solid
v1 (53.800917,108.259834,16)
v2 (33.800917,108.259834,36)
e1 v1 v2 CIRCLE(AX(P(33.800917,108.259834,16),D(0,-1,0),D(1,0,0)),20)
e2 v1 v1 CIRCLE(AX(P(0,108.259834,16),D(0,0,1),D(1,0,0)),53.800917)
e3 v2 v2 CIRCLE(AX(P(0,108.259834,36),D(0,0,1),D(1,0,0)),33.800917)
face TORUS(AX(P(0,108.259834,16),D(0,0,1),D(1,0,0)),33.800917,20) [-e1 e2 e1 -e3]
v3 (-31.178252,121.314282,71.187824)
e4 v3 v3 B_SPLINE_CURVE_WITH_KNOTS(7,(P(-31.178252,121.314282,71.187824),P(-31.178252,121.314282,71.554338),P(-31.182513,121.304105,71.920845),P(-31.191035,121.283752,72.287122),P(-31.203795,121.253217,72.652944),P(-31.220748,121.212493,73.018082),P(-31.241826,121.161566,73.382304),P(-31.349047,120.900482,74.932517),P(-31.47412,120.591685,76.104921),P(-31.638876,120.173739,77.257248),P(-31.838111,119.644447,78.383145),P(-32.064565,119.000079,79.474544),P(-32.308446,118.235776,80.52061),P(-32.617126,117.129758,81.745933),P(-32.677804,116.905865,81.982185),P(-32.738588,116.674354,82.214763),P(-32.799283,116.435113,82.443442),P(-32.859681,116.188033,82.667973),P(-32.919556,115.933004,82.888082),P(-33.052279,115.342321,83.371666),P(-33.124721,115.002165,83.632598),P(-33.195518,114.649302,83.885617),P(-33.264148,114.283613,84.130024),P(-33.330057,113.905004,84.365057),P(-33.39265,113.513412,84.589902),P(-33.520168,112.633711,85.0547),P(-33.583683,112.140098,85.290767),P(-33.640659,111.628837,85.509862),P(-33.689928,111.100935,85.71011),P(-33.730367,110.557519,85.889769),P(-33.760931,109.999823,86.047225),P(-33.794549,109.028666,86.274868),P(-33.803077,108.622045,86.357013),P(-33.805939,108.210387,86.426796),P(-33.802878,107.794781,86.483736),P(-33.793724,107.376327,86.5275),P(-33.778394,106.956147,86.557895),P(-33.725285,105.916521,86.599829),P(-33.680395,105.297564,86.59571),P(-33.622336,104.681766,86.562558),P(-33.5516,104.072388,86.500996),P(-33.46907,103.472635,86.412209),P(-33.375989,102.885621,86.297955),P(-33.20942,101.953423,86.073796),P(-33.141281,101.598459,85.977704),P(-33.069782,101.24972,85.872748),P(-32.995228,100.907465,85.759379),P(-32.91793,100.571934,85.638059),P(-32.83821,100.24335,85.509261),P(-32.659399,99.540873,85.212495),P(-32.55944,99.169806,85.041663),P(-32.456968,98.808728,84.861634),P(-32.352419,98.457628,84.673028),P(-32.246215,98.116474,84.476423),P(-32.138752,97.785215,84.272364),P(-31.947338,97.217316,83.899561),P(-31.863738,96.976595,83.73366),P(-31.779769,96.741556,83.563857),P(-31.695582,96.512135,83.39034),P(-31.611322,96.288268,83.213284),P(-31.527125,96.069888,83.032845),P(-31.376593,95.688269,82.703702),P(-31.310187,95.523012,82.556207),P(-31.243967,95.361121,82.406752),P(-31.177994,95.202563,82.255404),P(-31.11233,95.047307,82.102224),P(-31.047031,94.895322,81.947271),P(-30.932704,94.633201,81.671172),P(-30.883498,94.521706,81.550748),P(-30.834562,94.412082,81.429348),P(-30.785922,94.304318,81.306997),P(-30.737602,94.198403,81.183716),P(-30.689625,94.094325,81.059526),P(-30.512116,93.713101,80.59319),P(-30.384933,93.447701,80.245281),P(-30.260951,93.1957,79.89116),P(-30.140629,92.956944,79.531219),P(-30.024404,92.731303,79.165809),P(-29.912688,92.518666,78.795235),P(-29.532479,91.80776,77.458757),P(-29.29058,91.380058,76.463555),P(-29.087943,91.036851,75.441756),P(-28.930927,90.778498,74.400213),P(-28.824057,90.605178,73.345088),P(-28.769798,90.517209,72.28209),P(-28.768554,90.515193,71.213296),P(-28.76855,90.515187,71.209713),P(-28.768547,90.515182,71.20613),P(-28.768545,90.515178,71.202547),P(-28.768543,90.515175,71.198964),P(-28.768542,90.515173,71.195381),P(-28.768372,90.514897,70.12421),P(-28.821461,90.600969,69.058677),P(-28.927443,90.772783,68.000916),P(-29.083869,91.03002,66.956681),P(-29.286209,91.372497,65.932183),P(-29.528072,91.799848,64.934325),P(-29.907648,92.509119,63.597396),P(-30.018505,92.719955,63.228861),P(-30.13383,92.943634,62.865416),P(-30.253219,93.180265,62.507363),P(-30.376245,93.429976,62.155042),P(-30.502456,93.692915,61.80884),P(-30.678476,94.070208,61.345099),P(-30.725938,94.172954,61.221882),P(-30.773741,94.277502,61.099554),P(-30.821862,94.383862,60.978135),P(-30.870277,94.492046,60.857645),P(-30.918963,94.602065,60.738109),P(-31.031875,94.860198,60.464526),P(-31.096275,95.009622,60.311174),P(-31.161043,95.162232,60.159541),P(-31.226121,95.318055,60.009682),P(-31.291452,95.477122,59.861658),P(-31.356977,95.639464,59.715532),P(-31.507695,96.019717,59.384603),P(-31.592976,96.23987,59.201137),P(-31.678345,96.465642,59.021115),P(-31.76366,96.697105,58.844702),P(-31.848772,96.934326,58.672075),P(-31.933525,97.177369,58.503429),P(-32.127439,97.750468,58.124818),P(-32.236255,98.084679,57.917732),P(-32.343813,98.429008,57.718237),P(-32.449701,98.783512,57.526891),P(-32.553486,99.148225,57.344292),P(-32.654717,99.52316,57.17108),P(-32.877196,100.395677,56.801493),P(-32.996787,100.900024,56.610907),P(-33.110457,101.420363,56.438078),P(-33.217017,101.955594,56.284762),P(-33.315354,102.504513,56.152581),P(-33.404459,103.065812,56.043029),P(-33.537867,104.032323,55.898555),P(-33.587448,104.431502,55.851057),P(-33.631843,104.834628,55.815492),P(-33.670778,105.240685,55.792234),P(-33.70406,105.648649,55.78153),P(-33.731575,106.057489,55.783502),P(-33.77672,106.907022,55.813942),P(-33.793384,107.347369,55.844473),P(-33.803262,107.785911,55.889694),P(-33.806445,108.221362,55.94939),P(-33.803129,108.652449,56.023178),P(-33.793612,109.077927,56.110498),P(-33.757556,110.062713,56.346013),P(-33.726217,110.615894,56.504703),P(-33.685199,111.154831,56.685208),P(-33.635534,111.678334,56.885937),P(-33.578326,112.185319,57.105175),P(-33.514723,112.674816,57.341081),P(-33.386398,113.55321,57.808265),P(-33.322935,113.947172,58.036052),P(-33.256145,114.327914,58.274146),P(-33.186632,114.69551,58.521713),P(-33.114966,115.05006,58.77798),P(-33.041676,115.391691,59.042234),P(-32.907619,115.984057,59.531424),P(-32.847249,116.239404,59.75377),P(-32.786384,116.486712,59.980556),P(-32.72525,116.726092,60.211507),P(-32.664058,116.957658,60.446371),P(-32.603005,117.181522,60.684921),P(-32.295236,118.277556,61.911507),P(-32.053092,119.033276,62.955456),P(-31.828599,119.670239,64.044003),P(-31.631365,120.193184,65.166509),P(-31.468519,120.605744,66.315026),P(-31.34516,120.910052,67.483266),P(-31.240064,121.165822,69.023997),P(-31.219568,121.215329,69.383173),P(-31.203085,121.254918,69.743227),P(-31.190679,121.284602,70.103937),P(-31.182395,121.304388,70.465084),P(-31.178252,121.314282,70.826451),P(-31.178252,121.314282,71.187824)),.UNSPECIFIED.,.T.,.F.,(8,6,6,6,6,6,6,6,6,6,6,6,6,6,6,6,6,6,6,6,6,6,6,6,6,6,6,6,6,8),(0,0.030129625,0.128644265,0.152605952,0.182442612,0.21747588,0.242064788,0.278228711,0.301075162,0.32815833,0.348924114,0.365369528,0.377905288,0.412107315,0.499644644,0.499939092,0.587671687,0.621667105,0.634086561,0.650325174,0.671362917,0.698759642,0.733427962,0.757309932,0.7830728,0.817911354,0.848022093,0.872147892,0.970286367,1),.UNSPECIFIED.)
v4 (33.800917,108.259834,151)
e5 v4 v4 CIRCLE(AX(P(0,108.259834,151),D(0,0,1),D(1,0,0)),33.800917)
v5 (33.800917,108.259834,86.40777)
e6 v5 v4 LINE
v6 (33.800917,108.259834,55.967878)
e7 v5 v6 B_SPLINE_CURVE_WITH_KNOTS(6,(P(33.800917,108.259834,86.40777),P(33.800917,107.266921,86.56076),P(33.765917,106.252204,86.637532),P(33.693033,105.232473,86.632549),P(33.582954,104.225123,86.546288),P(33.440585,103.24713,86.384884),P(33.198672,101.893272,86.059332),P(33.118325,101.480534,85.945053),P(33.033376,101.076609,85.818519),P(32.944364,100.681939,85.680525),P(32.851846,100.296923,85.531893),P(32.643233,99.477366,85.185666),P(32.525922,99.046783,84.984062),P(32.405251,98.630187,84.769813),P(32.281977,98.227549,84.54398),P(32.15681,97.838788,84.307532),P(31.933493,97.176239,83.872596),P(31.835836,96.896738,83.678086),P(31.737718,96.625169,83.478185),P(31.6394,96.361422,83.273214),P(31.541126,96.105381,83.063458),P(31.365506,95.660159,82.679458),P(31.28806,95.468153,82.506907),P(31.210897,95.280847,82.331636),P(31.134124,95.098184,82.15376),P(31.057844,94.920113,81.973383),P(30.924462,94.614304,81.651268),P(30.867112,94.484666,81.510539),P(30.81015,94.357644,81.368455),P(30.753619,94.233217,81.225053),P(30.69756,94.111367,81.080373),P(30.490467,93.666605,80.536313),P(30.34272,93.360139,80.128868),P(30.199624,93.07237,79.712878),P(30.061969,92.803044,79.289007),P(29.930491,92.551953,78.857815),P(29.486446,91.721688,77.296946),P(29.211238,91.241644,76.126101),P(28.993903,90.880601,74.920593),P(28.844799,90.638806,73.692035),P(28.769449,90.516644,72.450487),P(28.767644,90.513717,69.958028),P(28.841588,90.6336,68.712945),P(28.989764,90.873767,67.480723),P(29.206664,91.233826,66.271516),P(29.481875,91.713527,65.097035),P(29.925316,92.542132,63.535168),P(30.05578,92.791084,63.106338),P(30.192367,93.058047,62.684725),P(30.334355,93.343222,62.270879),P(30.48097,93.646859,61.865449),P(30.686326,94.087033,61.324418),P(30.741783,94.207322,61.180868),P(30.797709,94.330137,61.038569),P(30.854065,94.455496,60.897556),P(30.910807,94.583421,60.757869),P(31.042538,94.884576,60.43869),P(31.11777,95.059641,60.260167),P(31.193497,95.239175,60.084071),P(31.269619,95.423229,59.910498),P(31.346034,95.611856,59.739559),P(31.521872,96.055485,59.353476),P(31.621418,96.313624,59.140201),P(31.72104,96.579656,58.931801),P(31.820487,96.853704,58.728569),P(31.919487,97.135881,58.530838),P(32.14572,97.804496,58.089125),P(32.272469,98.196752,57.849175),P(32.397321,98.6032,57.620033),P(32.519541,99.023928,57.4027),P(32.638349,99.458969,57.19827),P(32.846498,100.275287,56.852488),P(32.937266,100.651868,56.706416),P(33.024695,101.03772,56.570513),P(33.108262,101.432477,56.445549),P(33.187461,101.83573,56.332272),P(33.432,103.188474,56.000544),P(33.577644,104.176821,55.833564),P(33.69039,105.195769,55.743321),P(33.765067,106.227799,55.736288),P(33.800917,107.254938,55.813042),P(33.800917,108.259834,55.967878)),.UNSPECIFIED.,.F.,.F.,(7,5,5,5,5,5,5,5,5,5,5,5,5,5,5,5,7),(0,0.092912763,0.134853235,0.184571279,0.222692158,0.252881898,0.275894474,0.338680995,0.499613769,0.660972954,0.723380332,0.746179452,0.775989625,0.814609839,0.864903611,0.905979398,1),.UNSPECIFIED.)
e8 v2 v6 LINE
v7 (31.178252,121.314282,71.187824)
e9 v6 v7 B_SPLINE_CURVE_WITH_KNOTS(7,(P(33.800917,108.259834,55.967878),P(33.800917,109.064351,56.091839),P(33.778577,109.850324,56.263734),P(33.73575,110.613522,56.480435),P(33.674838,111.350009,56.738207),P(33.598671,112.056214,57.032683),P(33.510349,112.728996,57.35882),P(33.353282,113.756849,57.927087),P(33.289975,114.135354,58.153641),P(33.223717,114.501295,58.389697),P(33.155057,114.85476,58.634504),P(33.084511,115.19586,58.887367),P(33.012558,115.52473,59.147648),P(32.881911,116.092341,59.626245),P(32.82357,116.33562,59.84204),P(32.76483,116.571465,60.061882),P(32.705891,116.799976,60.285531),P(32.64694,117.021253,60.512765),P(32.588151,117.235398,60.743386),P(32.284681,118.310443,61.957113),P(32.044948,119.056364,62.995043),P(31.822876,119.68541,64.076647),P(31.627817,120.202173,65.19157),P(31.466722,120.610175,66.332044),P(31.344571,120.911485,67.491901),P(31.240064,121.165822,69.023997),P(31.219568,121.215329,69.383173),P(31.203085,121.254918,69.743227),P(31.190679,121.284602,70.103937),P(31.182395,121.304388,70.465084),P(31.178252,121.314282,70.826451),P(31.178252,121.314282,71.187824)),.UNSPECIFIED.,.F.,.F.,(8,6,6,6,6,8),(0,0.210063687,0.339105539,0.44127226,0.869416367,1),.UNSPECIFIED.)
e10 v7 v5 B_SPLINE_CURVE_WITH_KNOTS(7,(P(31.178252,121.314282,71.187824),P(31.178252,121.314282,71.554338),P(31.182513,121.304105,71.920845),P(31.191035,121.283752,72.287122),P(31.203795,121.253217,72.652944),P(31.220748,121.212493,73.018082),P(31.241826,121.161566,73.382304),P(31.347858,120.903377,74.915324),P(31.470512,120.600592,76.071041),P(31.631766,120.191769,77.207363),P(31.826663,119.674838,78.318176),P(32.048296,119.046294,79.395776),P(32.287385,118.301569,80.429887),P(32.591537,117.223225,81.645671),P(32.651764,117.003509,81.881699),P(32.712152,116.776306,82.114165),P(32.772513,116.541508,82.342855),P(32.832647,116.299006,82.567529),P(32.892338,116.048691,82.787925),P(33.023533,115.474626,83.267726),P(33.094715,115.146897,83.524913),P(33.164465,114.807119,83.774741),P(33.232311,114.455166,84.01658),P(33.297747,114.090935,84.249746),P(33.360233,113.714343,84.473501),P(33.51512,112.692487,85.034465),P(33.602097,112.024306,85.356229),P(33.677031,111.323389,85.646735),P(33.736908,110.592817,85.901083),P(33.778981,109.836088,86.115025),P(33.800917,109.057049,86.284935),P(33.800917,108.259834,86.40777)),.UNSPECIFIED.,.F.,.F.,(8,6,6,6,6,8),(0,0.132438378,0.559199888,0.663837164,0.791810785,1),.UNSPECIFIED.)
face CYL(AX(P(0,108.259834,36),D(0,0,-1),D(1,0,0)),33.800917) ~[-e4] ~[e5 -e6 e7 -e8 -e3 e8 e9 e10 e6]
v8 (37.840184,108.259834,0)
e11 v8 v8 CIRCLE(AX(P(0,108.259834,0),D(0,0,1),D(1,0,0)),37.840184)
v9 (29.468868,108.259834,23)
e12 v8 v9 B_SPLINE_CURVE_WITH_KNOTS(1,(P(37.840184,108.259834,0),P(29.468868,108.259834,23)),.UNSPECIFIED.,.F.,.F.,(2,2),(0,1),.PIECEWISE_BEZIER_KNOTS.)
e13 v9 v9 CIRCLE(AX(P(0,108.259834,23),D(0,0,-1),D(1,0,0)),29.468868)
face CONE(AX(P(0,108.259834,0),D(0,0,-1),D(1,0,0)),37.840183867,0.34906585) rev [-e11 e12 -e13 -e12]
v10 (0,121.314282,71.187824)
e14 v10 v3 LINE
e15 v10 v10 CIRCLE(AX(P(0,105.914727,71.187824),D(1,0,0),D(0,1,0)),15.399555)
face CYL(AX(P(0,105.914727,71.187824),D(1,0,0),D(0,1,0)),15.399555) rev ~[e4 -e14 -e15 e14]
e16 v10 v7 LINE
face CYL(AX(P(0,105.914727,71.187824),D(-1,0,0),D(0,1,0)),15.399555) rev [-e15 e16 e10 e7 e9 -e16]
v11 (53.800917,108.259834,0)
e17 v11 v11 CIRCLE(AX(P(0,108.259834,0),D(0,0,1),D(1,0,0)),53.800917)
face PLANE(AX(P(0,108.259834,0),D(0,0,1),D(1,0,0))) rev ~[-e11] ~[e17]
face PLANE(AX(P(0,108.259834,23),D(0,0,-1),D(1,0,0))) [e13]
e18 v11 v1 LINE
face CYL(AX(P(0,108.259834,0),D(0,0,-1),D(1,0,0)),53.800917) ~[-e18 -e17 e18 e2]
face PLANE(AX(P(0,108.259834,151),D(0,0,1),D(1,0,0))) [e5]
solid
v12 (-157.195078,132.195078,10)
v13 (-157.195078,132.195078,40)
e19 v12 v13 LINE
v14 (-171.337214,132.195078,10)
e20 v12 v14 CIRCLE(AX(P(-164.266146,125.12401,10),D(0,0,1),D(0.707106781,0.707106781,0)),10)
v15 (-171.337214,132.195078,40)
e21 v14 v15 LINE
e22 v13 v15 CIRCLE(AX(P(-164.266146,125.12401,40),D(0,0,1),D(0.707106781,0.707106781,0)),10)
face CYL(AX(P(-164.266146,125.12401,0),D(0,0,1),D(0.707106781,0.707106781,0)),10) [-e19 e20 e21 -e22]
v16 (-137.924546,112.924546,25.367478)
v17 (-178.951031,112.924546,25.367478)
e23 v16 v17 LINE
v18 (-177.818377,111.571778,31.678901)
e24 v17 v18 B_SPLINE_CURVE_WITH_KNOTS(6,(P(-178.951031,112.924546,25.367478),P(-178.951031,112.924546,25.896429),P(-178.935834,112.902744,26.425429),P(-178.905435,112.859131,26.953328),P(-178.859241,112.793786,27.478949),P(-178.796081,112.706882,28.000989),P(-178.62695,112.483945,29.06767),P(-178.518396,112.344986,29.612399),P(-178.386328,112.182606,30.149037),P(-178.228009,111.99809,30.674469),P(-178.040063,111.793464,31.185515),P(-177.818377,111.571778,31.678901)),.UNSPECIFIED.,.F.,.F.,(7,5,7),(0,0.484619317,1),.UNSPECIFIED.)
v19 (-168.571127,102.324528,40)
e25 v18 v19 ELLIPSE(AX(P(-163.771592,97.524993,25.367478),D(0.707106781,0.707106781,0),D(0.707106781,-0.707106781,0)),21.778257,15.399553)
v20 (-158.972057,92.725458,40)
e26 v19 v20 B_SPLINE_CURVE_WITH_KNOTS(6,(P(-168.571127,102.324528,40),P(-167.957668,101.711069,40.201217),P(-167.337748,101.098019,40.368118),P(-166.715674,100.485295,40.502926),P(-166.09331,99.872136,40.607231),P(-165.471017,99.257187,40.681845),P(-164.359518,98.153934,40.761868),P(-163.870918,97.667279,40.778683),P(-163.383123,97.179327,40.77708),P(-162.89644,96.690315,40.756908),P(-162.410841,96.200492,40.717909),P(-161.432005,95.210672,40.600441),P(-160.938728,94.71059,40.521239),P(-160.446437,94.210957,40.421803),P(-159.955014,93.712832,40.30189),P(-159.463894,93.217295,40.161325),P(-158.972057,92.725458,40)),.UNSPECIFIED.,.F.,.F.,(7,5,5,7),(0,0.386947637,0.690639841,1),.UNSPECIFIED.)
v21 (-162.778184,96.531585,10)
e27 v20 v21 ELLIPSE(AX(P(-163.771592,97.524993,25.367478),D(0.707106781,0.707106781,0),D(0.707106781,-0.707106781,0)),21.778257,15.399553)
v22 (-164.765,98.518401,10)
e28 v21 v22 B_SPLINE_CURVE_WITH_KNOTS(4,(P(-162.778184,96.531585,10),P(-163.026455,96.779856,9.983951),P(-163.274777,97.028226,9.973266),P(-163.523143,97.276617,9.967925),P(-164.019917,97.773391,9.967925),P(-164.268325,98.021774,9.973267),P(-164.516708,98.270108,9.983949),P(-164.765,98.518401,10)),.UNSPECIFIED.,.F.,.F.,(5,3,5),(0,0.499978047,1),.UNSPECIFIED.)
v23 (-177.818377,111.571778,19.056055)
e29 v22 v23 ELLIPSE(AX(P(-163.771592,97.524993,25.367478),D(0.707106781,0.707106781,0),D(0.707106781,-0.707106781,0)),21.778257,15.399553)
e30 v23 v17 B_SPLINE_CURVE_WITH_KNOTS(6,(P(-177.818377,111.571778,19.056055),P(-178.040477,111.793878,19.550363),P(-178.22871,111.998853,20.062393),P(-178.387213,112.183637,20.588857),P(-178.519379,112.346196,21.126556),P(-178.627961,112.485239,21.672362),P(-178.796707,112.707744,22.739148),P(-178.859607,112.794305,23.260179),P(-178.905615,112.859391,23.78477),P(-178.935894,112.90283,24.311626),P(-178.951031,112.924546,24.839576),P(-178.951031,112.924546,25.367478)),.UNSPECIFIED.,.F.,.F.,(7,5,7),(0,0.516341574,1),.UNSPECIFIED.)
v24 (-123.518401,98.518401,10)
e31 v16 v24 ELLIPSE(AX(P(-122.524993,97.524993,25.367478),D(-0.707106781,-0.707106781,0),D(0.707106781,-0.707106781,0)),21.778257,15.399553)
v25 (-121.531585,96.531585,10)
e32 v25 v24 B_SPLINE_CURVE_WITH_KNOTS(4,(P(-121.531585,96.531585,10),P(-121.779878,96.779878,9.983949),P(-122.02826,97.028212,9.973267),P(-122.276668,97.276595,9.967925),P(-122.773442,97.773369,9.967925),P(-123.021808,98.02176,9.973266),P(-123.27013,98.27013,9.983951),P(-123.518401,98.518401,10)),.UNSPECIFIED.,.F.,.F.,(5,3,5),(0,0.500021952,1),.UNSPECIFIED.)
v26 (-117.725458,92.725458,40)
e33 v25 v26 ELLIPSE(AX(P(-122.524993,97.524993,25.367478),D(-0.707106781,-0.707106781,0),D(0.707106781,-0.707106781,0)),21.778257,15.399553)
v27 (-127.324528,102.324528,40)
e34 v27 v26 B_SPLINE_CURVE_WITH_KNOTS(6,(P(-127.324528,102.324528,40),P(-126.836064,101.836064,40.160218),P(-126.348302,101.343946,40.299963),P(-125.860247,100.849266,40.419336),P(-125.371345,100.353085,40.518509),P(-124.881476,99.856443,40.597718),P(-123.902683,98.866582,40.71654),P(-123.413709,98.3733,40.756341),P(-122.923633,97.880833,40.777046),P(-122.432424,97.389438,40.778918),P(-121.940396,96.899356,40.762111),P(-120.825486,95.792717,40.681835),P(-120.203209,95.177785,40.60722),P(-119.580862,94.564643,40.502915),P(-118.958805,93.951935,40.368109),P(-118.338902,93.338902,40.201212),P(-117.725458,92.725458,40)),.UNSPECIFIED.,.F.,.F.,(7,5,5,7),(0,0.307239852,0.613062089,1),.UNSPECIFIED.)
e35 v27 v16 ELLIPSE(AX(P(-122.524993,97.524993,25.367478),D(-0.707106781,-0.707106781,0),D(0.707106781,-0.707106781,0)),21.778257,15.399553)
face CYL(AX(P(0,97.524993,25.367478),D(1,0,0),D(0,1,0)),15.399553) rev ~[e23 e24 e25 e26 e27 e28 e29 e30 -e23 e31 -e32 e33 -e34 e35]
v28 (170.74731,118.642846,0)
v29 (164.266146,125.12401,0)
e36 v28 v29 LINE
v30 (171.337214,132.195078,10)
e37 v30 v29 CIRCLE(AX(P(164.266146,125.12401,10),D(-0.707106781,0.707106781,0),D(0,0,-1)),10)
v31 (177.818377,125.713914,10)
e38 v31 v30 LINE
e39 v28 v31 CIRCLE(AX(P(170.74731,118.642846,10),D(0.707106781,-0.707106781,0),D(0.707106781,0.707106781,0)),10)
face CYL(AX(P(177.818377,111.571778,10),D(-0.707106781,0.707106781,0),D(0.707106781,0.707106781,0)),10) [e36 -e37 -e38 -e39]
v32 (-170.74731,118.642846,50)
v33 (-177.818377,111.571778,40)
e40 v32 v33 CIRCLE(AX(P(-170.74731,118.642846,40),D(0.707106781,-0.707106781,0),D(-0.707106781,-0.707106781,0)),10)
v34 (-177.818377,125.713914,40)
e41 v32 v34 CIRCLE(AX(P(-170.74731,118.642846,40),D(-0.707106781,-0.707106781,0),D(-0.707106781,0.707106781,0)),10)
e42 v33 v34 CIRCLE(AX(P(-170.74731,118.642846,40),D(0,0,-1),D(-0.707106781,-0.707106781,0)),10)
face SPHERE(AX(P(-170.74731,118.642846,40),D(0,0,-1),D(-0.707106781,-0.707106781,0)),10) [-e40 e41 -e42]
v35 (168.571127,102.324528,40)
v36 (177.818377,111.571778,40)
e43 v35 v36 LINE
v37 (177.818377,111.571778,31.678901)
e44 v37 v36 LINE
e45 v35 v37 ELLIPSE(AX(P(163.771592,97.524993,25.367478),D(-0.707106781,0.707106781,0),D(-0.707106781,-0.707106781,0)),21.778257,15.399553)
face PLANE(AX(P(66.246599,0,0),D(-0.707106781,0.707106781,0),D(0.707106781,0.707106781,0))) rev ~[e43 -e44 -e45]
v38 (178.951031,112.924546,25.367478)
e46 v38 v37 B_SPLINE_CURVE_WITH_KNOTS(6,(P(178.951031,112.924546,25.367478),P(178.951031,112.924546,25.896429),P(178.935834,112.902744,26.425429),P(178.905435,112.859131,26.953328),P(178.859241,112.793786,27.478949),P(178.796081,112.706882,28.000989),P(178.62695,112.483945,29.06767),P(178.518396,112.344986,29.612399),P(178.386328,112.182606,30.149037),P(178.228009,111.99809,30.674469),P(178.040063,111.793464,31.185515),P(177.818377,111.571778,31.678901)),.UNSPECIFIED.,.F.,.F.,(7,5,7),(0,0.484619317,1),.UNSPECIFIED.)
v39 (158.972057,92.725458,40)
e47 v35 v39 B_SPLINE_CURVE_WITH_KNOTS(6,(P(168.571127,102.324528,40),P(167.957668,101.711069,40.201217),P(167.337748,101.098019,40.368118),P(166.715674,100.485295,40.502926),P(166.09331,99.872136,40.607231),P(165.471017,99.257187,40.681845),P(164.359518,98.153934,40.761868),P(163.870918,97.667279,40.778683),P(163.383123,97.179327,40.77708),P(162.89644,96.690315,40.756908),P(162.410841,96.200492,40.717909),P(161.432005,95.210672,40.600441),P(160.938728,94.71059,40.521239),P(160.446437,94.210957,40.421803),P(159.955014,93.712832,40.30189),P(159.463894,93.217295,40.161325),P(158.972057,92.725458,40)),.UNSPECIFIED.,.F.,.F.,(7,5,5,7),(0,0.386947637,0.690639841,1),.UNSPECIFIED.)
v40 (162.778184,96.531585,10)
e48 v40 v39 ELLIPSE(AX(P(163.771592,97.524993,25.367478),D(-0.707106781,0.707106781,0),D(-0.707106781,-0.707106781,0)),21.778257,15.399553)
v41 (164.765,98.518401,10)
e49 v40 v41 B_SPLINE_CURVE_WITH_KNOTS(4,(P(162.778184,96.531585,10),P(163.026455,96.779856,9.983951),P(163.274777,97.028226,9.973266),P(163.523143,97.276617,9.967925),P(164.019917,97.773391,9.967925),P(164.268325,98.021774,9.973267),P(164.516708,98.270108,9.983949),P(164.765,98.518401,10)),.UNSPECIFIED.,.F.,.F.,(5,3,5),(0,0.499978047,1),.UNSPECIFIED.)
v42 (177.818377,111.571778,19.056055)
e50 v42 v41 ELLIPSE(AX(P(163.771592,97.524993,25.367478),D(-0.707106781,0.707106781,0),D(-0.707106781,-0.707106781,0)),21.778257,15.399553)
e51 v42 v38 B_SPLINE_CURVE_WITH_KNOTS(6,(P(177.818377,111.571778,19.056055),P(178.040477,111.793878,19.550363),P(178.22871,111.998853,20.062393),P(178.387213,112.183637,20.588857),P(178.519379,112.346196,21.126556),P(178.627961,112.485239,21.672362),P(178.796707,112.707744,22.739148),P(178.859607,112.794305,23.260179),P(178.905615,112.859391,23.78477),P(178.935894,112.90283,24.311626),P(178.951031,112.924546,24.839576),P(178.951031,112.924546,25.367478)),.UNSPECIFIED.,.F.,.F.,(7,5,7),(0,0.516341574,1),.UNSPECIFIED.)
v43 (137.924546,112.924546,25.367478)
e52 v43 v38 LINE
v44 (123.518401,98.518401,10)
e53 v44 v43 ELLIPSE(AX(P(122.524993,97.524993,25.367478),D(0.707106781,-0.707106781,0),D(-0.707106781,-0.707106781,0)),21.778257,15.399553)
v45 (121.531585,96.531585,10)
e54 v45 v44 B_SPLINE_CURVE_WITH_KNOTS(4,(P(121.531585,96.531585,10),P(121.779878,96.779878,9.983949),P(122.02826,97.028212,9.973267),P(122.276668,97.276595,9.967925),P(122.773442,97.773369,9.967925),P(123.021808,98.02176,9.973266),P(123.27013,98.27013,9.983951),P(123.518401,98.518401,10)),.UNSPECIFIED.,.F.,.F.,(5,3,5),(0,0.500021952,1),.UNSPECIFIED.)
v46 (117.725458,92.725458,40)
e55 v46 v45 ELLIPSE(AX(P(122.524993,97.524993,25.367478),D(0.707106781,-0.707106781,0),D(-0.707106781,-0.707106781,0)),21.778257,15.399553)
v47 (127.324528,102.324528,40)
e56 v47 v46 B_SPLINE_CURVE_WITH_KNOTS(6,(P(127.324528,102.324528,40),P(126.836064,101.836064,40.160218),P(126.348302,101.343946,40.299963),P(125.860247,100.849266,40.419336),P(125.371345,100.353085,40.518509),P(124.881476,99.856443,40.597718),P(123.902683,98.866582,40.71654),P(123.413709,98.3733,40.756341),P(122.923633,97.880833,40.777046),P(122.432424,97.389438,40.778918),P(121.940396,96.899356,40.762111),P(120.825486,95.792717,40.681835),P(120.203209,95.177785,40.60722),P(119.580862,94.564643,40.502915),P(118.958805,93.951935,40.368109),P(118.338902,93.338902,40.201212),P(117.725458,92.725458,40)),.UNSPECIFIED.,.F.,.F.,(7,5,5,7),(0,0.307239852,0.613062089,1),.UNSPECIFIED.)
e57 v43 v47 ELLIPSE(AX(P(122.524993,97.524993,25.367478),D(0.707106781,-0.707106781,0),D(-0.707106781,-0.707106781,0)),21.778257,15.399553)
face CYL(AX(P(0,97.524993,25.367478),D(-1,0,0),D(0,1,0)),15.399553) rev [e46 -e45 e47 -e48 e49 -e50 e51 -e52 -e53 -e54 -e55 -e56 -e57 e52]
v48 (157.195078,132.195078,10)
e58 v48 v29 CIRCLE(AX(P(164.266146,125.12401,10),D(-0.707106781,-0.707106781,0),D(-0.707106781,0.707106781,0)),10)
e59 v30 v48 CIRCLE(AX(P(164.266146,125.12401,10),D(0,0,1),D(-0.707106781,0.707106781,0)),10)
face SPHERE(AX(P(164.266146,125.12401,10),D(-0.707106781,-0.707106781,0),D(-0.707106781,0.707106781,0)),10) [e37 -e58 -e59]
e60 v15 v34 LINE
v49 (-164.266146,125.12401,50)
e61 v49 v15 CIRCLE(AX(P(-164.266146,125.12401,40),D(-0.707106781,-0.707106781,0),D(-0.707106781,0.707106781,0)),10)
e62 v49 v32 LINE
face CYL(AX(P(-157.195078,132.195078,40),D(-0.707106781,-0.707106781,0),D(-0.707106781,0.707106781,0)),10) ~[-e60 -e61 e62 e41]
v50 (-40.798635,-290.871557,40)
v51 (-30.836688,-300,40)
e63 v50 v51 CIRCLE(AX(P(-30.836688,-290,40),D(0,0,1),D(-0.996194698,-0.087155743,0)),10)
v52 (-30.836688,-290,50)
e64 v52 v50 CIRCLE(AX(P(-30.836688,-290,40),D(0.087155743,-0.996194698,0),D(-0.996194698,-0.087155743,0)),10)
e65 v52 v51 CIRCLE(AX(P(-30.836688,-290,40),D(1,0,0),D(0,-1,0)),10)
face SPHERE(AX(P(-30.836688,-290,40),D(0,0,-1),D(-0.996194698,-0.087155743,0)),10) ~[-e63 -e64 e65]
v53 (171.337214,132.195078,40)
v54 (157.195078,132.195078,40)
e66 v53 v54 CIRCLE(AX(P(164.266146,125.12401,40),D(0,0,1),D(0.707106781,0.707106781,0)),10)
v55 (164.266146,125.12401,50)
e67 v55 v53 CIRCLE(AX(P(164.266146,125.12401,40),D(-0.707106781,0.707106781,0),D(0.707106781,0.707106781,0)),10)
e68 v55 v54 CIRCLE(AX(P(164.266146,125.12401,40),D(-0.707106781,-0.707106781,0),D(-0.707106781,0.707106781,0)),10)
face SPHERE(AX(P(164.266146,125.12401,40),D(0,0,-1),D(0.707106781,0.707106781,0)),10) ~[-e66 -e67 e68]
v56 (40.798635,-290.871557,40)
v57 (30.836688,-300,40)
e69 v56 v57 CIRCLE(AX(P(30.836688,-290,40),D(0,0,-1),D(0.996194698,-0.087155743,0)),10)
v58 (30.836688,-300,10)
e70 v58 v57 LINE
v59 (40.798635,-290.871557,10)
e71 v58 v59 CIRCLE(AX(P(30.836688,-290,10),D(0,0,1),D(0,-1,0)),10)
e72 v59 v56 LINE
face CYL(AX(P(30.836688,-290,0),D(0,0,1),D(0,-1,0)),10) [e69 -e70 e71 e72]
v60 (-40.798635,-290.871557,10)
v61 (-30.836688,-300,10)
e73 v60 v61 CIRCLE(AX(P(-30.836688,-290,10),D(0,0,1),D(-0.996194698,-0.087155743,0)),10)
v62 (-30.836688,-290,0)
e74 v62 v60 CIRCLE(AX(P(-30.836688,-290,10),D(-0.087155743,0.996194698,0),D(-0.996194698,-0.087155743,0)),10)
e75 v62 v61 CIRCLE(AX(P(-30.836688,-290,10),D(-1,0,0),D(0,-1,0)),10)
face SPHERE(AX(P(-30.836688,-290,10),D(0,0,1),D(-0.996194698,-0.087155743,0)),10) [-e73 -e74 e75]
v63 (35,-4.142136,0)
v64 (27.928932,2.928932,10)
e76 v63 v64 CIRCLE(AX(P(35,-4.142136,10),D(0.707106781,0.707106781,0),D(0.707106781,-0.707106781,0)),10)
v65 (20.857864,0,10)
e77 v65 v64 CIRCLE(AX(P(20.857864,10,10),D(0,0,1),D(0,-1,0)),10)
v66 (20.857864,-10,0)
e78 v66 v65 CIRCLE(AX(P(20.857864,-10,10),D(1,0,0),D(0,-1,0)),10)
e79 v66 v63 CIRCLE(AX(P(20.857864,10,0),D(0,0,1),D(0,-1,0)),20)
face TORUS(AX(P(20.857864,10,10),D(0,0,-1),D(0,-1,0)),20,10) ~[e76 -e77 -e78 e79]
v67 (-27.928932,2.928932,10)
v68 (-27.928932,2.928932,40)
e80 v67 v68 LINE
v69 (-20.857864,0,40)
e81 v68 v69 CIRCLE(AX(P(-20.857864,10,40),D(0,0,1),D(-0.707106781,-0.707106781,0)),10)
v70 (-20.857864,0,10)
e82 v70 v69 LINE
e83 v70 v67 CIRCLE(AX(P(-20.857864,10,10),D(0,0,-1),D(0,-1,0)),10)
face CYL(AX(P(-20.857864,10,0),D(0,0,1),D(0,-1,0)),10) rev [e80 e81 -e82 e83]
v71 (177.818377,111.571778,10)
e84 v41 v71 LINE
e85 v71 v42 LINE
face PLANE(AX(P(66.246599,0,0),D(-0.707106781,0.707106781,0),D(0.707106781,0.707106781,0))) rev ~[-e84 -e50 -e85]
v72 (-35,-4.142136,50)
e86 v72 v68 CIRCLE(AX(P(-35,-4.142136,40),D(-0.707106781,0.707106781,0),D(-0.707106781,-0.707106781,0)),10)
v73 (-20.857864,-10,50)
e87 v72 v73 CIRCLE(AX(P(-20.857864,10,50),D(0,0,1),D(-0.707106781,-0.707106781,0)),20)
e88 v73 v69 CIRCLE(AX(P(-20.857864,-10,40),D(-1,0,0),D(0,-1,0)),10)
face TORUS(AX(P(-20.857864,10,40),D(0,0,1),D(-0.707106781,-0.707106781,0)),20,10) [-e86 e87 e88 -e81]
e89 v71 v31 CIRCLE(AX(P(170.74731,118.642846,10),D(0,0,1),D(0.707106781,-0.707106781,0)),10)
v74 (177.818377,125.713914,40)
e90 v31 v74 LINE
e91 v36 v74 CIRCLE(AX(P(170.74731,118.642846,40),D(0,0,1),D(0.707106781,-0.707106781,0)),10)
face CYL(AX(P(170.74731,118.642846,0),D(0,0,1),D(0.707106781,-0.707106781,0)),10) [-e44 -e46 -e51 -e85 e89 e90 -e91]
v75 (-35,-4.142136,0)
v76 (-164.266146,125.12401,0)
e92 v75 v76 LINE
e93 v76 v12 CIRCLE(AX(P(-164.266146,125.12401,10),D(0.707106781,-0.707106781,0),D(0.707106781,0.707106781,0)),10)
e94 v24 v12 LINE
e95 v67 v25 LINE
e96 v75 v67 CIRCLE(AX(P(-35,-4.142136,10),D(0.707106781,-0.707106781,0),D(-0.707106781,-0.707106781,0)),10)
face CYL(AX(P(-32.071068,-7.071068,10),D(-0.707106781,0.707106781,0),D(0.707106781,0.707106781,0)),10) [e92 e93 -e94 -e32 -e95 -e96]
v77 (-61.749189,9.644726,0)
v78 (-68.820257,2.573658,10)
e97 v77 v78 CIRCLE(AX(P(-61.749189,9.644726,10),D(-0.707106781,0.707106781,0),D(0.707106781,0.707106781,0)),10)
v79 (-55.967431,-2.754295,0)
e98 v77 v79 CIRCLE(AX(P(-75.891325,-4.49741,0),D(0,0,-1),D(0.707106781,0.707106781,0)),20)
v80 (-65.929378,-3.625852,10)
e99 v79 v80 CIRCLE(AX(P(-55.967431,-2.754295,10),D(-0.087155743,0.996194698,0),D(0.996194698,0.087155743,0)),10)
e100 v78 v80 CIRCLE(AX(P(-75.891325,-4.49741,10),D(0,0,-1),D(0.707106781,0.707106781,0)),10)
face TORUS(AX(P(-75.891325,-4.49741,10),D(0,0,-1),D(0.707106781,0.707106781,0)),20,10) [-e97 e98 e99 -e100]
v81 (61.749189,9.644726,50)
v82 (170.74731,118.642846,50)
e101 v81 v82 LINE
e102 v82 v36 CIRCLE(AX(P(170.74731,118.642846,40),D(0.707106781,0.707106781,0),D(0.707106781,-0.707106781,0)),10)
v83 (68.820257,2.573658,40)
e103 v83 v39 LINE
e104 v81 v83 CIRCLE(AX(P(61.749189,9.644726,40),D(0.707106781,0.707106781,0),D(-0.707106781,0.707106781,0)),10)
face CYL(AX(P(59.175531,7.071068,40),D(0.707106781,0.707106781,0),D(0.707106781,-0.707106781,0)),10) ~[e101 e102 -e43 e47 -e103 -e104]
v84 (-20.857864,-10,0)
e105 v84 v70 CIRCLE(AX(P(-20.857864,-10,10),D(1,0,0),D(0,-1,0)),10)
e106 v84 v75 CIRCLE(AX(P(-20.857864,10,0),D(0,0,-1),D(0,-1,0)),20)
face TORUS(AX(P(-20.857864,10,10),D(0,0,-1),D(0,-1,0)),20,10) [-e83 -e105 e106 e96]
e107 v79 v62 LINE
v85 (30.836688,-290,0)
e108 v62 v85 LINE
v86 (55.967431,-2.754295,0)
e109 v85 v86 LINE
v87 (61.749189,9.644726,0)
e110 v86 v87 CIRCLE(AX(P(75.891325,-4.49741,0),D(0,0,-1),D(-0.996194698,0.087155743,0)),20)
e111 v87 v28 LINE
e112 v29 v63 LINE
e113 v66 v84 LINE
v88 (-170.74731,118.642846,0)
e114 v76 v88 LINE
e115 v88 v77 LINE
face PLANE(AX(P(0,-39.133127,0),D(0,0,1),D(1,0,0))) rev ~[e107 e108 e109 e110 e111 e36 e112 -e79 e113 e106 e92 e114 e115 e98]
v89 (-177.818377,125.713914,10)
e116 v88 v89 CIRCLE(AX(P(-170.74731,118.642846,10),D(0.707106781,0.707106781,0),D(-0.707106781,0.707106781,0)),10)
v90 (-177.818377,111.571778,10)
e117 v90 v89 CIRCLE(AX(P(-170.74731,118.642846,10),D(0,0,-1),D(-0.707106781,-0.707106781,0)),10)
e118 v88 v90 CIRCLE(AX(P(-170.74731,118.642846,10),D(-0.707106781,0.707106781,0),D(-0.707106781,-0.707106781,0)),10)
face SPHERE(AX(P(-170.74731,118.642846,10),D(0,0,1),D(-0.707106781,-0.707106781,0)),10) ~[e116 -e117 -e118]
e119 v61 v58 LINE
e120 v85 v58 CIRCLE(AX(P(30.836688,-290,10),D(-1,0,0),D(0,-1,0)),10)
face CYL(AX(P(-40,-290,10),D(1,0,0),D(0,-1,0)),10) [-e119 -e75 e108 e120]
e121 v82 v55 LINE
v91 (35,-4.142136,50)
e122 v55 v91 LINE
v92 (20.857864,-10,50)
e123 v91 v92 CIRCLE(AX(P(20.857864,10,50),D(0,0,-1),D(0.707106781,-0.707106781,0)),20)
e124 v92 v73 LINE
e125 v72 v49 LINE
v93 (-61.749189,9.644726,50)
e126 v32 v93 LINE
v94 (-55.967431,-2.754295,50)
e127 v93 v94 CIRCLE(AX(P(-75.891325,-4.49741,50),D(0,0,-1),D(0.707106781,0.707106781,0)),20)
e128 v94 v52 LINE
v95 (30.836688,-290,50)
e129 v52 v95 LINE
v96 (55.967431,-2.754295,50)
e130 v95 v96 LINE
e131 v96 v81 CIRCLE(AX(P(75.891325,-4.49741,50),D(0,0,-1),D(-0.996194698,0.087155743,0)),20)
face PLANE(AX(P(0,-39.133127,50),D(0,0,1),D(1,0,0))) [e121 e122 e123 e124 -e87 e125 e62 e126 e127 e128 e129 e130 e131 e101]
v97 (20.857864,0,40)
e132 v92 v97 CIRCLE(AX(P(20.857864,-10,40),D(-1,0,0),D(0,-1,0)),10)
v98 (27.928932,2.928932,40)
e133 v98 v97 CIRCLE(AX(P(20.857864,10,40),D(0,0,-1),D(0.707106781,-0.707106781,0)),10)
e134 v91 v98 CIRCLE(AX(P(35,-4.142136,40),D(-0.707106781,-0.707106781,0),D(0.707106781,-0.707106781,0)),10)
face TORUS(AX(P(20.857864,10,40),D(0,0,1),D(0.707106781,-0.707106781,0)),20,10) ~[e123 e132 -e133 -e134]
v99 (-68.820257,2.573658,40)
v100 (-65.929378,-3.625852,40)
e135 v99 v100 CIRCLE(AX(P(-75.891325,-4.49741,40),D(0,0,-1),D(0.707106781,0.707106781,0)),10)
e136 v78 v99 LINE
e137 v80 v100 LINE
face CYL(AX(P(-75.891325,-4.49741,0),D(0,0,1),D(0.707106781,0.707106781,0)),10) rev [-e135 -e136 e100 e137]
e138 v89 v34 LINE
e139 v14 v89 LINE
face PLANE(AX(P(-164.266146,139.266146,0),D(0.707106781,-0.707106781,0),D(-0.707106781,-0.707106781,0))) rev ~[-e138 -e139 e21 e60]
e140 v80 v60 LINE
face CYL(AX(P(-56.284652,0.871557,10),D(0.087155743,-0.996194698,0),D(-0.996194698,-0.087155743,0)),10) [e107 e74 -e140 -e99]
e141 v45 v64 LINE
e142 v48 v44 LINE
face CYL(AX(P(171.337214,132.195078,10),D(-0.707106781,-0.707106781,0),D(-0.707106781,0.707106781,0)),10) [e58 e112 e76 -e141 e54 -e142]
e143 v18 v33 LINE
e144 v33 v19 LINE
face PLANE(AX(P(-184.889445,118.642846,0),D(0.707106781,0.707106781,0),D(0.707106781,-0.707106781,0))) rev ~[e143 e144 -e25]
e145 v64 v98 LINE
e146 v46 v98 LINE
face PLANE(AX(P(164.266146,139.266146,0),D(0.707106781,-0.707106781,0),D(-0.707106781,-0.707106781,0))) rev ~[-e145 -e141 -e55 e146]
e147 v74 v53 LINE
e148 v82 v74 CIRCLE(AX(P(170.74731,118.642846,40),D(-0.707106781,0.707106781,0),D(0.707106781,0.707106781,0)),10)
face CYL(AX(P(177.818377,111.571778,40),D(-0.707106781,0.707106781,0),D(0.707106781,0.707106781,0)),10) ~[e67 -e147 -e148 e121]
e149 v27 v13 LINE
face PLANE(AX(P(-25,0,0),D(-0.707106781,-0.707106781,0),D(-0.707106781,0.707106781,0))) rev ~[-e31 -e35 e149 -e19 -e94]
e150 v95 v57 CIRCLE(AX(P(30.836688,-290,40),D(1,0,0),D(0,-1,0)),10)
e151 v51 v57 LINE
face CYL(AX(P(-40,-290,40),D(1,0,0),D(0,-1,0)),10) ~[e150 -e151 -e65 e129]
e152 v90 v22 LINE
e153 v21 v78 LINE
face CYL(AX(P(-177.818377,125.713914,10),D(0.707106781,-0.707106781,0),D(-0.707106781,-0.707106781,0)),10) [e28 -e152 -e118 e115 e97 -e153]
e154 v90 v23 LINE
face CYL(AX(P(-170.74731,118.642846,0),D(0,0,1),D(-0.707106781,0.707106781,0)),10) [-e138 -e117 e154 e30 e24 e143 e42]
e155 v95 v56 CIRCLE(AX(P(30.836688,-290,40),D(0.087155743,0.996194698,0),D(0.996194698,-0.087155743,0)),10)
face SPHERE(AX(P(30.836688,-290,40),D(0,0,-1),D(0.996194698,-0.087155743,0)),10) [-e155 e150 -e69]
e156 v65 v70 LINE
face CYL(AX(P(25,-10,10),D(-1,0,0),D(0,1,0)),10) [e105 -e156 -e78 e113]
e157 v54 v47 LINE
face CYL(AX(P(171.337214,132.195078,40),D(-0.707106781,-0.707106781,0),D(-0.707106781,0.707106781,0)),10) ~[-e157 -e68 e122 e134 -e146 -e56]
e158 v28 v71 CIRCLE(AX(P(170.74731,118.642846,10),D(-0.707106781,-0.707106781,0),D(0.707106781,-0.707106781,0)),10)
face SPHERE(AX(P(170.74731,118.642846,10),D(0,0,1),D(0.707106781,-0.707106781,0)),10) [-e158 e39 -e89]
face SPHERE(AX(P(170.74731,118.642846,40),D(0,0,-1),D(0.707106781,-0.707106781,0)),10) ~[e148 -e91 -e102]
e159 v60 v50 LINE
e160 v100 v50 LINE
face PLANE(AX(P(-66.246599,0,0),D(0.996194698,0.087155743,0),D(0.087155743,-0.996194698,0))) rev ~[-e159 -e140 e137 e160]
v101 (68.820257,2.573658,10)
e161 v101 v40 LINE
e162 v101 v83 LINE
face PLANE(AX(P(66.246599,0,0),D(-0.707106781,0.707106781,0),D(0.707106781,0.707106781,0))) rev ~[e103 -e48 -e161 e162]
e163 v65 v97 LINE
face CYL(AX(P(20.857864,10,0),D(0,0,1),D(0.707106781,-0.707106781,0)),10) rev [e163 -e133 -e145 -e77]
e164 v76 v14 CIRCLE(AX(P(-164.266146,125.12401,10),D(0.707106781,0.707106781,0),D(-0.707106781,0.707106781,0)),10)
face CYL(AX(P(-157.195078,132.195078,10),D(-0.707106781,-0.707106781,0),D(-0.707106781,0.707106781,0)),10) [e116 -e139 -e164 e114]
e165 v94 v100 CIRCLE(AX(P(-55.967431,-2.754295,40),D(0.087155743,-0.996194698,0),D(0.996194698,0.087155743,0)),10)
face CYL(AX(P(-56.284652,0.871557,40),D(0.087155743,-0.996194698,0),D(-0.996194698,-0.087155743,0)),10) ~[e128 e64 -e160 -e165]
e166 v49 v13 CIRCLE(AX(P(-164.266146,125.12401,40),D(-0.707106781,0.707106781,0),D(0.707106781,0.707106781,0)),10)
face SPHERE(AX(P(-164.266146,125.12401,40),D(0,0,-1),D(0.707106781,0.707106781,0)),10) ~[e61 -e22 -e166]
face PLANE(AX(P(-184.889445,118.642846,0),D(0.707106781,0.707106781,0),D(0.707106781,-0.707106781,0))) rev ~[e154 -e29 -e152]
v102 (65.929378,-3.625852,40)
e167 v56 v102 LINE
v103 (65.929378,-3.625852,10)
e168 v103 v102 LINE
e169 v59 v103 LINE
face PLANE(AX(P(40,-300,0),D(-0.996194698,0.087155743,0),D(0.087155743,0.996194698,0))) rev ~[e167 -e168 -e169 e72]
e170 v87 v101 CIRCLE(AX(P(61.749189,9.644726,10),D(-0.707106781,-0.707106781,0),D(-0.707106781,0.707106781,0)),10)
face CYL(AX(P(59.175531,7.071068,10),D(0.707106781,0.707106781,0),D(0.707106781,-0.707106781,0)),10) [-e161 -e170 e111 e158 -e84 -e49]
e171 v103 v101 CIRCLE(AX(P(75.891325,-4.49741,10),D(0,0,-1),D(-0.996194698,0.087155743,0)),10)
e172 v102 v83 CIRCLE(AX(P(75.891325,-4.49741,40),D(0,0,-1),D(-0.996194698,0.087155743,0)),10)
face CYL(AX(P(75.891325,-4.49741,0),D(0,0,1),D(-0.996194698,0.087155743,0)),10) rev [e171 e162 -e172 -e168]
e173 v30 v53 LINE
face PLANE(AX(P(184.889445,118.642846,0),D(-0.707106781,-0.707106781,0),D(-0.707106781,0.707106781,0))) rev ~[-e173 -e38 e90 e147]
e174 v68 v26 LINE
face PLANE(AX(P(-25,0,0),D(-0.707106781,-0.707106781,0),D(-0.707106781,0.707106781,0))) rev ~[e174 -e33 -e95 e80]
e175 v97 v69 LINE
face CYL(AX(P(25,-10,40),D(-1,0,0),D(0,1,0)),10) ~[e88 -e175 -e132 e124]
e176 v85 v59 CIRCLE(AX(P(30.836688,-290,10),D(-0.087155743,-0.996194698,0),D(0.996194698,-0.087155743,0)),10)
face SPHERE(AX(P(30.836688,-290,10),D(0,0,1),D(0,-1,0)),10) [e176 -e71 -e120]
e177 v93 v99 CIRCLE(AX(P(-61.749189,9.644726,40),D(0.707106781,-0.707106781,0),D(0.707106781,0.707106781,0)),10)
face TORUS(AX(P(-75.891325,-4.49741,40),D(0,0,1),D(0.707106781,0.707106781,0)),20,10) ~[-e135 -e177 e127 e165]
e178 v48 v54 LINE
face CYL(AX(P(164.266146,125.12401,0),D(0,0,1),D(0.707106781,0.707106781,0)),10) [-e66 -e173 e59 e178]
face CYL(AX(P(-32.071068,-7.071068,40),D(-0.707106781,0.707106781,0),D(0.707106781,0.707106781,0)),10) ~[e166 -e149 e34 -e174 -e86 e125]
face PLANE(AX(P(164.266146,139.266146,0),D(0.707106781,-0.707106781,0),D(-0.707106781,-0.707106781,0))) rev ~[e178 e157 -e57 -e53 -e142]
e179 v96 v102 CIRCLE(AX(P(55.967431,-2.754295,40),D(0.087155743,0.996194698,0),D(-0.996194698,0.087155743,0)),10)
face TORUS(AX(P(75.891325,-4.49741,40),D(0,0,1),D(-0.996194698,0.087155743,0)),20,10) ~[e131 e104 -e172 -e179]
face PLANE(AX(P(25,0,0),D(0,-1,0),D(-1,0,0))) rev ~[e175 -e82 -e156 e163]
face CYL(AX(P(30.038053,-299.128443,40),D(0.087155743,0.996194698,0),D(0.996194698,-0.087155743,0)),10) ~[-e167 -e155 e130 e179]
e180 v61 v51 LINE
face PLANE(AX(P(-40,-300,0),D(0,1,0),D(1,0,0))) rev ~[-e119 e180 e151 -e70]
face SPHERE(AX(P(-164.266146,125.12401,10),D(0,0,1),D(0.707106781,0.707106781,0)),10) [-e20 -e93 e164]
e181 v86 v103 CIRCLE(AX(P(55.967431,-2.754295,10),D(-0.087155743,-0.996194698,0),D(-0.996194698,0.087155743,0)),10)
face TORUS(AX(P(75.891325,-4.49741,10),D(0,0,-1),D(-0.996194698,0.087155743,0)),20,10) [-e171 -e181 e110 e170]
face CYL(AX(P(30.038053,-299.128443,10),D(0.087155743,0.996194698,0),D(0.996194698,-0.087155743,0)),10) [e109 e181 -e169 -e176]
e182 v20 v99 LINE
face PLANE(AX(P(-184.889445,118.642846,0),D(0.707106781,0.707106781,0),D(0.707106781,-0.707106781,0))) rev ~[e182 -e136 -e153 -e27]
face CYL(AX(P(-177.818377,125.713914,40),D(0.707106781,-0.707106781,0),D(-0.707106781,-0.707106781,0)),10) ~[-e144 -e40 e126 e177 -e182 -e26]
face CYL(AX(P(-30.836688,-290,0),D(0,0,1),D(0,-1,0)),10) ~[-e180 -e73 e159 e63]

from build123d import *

# Parameters (mm, degrees)
F1_DEPTH       = 50
F2_R           = 10
F3_R           = 15.3995531455
F4_DEPTH       = 242.7
F4_DEPTH_BACK  = 187
F5_R           = 53.8009172273
F6_DEPTH       = 36
F7_R           = 20
F8_DEPTH       = 115
F9_R           = 15.399555
F10_DEPTH      = 82
F10_DEPTH_BACK = 108
F11_R          = 37.8401838669
F12_DEPTH      = 23
F12_TAPER      = 20


with BuildPart() as f1:
    # F0 (on Top) → F1 (new body)
    with BuildSketch(Plane.XY):
        Polygon((-40, -300), (0, -300), (40, -300), (66.2465990578, 0), (184.8894452647, 118.642846207), (164.2661457358, 139.2661457358), (25, 0), (0, 0), (-25, 0), (-164.2661457358, 139.2661457358), (-184.8894452647, 118.642846207), (-66.2465990578, 0), align=None)
    extrude(amount=F1_DEPTH)

    # F2
    f2_edges = [f1.edges().sort_by_distance(p)[0] for p in [
        (-184.889445, 118.642846, 25),
        (-66.246599, 0, 25),
        (-125.568022, 59.321423, 0),
        (-125.568022, 59.321423, 50),
        (-40, -300, 25),
        (-53.1233, -150, 0),
        (-53.1233, -150, 50),
        (0, -300, 50),
        (40, -300, 25),
        (0, -300, 0),
        (66.246599, 0, 25),
        (53.1233, -150, 0),
        (53.1233, -150, 50),
        (184.889445, 118.642846, 25),
        (125.568022, 59.321423, 0),
        (125.568022, 59.321423, 50),
        (94.633073, 69.633073, 0),
        (164.266146, 139.266146, 25),
        (174.577796, 128.954496, 0),
        (174.577796, 128.954496, 50),
        (25, 0, 25),
        (94.633073, 69.633073, 50),
        (0, 0, 50),
        (-25, 0, 25),
        (0, 0, 0),
        (-164.266146, 139.266146, 25),
        (-94.633073, 69.633073, 0),
        (-94.633073, 69.633073, 50),
        (-174.577796, 128.954496, 0),
        (-174.577796, 128.954496, 50),
    ]]
    fillet(f2_edges, radius=F2_R)

    # F3 (on Right) → F4 (cut, two sides)
    with BuildSketch(Plane.YZ) as f4_sk:
        with Locations((97.5249931216, 25.3674779087)):
            Circle(F3_R)
    extrude(amount=-F4_DEPTH, mode=Mode.SUBTRACT)
    extrude(f4_sk.sketch, amount=F4_DEPTH_BACK, mode=Mode.SUBTRACT)


with BuildPart() as f6:
    # F5 (on Top) → F6 (new body)
    with BuildSketch(Plane.XY):
        with Locations((0, 108.2598343492)):
            Circle(F5_R)
    extrude(amount=F6_DEPTH)

    # F7
    f7_edges = [f6.edges().sort_by_distance(p)[0] for p in [
        (-53.800917, 108.259834, 36),
    ]]
    fillet(f7_edges, radius=F7_R)

    # F8 (add): a face of the model
    f8_faces = [f6.faces().sort_by_distance(p)[0] for p in [
        (0, 108.2598343492, 36),
    ]]
    extrude(f8_faces, amount=F8_DEPTH)

    # F9 (on Right) → F10 (cut, two sides)
    with BuildSketch(Plane.YZ) as f10_sk:
        with Locations((105.9147268534, 71.1878240108)):
            Circle(F9_R)
    extrude(amount=-F10_DEPTH, mode=Mode.SUBTRACT)
    extrude(f10_sk.sketch, amount=F10_DEPTH_BACK, mode=Mode.SUBTRACT)

    # F11 (on face) → F12 (cut)
    with BuildSketch(Plane(origin=(0, 0, 0), x_dir=(1, 0, 0), z_dir=(0, 0, -1))):
        with Locations((0, -108.2598343492)):
            Circle(F11_R)
    extrude(amount=-F12_DEPTH, taper=F12_TAPER, mode=Mode.SUBTRACT)


solid = Compound([f1.part, f6.part])
